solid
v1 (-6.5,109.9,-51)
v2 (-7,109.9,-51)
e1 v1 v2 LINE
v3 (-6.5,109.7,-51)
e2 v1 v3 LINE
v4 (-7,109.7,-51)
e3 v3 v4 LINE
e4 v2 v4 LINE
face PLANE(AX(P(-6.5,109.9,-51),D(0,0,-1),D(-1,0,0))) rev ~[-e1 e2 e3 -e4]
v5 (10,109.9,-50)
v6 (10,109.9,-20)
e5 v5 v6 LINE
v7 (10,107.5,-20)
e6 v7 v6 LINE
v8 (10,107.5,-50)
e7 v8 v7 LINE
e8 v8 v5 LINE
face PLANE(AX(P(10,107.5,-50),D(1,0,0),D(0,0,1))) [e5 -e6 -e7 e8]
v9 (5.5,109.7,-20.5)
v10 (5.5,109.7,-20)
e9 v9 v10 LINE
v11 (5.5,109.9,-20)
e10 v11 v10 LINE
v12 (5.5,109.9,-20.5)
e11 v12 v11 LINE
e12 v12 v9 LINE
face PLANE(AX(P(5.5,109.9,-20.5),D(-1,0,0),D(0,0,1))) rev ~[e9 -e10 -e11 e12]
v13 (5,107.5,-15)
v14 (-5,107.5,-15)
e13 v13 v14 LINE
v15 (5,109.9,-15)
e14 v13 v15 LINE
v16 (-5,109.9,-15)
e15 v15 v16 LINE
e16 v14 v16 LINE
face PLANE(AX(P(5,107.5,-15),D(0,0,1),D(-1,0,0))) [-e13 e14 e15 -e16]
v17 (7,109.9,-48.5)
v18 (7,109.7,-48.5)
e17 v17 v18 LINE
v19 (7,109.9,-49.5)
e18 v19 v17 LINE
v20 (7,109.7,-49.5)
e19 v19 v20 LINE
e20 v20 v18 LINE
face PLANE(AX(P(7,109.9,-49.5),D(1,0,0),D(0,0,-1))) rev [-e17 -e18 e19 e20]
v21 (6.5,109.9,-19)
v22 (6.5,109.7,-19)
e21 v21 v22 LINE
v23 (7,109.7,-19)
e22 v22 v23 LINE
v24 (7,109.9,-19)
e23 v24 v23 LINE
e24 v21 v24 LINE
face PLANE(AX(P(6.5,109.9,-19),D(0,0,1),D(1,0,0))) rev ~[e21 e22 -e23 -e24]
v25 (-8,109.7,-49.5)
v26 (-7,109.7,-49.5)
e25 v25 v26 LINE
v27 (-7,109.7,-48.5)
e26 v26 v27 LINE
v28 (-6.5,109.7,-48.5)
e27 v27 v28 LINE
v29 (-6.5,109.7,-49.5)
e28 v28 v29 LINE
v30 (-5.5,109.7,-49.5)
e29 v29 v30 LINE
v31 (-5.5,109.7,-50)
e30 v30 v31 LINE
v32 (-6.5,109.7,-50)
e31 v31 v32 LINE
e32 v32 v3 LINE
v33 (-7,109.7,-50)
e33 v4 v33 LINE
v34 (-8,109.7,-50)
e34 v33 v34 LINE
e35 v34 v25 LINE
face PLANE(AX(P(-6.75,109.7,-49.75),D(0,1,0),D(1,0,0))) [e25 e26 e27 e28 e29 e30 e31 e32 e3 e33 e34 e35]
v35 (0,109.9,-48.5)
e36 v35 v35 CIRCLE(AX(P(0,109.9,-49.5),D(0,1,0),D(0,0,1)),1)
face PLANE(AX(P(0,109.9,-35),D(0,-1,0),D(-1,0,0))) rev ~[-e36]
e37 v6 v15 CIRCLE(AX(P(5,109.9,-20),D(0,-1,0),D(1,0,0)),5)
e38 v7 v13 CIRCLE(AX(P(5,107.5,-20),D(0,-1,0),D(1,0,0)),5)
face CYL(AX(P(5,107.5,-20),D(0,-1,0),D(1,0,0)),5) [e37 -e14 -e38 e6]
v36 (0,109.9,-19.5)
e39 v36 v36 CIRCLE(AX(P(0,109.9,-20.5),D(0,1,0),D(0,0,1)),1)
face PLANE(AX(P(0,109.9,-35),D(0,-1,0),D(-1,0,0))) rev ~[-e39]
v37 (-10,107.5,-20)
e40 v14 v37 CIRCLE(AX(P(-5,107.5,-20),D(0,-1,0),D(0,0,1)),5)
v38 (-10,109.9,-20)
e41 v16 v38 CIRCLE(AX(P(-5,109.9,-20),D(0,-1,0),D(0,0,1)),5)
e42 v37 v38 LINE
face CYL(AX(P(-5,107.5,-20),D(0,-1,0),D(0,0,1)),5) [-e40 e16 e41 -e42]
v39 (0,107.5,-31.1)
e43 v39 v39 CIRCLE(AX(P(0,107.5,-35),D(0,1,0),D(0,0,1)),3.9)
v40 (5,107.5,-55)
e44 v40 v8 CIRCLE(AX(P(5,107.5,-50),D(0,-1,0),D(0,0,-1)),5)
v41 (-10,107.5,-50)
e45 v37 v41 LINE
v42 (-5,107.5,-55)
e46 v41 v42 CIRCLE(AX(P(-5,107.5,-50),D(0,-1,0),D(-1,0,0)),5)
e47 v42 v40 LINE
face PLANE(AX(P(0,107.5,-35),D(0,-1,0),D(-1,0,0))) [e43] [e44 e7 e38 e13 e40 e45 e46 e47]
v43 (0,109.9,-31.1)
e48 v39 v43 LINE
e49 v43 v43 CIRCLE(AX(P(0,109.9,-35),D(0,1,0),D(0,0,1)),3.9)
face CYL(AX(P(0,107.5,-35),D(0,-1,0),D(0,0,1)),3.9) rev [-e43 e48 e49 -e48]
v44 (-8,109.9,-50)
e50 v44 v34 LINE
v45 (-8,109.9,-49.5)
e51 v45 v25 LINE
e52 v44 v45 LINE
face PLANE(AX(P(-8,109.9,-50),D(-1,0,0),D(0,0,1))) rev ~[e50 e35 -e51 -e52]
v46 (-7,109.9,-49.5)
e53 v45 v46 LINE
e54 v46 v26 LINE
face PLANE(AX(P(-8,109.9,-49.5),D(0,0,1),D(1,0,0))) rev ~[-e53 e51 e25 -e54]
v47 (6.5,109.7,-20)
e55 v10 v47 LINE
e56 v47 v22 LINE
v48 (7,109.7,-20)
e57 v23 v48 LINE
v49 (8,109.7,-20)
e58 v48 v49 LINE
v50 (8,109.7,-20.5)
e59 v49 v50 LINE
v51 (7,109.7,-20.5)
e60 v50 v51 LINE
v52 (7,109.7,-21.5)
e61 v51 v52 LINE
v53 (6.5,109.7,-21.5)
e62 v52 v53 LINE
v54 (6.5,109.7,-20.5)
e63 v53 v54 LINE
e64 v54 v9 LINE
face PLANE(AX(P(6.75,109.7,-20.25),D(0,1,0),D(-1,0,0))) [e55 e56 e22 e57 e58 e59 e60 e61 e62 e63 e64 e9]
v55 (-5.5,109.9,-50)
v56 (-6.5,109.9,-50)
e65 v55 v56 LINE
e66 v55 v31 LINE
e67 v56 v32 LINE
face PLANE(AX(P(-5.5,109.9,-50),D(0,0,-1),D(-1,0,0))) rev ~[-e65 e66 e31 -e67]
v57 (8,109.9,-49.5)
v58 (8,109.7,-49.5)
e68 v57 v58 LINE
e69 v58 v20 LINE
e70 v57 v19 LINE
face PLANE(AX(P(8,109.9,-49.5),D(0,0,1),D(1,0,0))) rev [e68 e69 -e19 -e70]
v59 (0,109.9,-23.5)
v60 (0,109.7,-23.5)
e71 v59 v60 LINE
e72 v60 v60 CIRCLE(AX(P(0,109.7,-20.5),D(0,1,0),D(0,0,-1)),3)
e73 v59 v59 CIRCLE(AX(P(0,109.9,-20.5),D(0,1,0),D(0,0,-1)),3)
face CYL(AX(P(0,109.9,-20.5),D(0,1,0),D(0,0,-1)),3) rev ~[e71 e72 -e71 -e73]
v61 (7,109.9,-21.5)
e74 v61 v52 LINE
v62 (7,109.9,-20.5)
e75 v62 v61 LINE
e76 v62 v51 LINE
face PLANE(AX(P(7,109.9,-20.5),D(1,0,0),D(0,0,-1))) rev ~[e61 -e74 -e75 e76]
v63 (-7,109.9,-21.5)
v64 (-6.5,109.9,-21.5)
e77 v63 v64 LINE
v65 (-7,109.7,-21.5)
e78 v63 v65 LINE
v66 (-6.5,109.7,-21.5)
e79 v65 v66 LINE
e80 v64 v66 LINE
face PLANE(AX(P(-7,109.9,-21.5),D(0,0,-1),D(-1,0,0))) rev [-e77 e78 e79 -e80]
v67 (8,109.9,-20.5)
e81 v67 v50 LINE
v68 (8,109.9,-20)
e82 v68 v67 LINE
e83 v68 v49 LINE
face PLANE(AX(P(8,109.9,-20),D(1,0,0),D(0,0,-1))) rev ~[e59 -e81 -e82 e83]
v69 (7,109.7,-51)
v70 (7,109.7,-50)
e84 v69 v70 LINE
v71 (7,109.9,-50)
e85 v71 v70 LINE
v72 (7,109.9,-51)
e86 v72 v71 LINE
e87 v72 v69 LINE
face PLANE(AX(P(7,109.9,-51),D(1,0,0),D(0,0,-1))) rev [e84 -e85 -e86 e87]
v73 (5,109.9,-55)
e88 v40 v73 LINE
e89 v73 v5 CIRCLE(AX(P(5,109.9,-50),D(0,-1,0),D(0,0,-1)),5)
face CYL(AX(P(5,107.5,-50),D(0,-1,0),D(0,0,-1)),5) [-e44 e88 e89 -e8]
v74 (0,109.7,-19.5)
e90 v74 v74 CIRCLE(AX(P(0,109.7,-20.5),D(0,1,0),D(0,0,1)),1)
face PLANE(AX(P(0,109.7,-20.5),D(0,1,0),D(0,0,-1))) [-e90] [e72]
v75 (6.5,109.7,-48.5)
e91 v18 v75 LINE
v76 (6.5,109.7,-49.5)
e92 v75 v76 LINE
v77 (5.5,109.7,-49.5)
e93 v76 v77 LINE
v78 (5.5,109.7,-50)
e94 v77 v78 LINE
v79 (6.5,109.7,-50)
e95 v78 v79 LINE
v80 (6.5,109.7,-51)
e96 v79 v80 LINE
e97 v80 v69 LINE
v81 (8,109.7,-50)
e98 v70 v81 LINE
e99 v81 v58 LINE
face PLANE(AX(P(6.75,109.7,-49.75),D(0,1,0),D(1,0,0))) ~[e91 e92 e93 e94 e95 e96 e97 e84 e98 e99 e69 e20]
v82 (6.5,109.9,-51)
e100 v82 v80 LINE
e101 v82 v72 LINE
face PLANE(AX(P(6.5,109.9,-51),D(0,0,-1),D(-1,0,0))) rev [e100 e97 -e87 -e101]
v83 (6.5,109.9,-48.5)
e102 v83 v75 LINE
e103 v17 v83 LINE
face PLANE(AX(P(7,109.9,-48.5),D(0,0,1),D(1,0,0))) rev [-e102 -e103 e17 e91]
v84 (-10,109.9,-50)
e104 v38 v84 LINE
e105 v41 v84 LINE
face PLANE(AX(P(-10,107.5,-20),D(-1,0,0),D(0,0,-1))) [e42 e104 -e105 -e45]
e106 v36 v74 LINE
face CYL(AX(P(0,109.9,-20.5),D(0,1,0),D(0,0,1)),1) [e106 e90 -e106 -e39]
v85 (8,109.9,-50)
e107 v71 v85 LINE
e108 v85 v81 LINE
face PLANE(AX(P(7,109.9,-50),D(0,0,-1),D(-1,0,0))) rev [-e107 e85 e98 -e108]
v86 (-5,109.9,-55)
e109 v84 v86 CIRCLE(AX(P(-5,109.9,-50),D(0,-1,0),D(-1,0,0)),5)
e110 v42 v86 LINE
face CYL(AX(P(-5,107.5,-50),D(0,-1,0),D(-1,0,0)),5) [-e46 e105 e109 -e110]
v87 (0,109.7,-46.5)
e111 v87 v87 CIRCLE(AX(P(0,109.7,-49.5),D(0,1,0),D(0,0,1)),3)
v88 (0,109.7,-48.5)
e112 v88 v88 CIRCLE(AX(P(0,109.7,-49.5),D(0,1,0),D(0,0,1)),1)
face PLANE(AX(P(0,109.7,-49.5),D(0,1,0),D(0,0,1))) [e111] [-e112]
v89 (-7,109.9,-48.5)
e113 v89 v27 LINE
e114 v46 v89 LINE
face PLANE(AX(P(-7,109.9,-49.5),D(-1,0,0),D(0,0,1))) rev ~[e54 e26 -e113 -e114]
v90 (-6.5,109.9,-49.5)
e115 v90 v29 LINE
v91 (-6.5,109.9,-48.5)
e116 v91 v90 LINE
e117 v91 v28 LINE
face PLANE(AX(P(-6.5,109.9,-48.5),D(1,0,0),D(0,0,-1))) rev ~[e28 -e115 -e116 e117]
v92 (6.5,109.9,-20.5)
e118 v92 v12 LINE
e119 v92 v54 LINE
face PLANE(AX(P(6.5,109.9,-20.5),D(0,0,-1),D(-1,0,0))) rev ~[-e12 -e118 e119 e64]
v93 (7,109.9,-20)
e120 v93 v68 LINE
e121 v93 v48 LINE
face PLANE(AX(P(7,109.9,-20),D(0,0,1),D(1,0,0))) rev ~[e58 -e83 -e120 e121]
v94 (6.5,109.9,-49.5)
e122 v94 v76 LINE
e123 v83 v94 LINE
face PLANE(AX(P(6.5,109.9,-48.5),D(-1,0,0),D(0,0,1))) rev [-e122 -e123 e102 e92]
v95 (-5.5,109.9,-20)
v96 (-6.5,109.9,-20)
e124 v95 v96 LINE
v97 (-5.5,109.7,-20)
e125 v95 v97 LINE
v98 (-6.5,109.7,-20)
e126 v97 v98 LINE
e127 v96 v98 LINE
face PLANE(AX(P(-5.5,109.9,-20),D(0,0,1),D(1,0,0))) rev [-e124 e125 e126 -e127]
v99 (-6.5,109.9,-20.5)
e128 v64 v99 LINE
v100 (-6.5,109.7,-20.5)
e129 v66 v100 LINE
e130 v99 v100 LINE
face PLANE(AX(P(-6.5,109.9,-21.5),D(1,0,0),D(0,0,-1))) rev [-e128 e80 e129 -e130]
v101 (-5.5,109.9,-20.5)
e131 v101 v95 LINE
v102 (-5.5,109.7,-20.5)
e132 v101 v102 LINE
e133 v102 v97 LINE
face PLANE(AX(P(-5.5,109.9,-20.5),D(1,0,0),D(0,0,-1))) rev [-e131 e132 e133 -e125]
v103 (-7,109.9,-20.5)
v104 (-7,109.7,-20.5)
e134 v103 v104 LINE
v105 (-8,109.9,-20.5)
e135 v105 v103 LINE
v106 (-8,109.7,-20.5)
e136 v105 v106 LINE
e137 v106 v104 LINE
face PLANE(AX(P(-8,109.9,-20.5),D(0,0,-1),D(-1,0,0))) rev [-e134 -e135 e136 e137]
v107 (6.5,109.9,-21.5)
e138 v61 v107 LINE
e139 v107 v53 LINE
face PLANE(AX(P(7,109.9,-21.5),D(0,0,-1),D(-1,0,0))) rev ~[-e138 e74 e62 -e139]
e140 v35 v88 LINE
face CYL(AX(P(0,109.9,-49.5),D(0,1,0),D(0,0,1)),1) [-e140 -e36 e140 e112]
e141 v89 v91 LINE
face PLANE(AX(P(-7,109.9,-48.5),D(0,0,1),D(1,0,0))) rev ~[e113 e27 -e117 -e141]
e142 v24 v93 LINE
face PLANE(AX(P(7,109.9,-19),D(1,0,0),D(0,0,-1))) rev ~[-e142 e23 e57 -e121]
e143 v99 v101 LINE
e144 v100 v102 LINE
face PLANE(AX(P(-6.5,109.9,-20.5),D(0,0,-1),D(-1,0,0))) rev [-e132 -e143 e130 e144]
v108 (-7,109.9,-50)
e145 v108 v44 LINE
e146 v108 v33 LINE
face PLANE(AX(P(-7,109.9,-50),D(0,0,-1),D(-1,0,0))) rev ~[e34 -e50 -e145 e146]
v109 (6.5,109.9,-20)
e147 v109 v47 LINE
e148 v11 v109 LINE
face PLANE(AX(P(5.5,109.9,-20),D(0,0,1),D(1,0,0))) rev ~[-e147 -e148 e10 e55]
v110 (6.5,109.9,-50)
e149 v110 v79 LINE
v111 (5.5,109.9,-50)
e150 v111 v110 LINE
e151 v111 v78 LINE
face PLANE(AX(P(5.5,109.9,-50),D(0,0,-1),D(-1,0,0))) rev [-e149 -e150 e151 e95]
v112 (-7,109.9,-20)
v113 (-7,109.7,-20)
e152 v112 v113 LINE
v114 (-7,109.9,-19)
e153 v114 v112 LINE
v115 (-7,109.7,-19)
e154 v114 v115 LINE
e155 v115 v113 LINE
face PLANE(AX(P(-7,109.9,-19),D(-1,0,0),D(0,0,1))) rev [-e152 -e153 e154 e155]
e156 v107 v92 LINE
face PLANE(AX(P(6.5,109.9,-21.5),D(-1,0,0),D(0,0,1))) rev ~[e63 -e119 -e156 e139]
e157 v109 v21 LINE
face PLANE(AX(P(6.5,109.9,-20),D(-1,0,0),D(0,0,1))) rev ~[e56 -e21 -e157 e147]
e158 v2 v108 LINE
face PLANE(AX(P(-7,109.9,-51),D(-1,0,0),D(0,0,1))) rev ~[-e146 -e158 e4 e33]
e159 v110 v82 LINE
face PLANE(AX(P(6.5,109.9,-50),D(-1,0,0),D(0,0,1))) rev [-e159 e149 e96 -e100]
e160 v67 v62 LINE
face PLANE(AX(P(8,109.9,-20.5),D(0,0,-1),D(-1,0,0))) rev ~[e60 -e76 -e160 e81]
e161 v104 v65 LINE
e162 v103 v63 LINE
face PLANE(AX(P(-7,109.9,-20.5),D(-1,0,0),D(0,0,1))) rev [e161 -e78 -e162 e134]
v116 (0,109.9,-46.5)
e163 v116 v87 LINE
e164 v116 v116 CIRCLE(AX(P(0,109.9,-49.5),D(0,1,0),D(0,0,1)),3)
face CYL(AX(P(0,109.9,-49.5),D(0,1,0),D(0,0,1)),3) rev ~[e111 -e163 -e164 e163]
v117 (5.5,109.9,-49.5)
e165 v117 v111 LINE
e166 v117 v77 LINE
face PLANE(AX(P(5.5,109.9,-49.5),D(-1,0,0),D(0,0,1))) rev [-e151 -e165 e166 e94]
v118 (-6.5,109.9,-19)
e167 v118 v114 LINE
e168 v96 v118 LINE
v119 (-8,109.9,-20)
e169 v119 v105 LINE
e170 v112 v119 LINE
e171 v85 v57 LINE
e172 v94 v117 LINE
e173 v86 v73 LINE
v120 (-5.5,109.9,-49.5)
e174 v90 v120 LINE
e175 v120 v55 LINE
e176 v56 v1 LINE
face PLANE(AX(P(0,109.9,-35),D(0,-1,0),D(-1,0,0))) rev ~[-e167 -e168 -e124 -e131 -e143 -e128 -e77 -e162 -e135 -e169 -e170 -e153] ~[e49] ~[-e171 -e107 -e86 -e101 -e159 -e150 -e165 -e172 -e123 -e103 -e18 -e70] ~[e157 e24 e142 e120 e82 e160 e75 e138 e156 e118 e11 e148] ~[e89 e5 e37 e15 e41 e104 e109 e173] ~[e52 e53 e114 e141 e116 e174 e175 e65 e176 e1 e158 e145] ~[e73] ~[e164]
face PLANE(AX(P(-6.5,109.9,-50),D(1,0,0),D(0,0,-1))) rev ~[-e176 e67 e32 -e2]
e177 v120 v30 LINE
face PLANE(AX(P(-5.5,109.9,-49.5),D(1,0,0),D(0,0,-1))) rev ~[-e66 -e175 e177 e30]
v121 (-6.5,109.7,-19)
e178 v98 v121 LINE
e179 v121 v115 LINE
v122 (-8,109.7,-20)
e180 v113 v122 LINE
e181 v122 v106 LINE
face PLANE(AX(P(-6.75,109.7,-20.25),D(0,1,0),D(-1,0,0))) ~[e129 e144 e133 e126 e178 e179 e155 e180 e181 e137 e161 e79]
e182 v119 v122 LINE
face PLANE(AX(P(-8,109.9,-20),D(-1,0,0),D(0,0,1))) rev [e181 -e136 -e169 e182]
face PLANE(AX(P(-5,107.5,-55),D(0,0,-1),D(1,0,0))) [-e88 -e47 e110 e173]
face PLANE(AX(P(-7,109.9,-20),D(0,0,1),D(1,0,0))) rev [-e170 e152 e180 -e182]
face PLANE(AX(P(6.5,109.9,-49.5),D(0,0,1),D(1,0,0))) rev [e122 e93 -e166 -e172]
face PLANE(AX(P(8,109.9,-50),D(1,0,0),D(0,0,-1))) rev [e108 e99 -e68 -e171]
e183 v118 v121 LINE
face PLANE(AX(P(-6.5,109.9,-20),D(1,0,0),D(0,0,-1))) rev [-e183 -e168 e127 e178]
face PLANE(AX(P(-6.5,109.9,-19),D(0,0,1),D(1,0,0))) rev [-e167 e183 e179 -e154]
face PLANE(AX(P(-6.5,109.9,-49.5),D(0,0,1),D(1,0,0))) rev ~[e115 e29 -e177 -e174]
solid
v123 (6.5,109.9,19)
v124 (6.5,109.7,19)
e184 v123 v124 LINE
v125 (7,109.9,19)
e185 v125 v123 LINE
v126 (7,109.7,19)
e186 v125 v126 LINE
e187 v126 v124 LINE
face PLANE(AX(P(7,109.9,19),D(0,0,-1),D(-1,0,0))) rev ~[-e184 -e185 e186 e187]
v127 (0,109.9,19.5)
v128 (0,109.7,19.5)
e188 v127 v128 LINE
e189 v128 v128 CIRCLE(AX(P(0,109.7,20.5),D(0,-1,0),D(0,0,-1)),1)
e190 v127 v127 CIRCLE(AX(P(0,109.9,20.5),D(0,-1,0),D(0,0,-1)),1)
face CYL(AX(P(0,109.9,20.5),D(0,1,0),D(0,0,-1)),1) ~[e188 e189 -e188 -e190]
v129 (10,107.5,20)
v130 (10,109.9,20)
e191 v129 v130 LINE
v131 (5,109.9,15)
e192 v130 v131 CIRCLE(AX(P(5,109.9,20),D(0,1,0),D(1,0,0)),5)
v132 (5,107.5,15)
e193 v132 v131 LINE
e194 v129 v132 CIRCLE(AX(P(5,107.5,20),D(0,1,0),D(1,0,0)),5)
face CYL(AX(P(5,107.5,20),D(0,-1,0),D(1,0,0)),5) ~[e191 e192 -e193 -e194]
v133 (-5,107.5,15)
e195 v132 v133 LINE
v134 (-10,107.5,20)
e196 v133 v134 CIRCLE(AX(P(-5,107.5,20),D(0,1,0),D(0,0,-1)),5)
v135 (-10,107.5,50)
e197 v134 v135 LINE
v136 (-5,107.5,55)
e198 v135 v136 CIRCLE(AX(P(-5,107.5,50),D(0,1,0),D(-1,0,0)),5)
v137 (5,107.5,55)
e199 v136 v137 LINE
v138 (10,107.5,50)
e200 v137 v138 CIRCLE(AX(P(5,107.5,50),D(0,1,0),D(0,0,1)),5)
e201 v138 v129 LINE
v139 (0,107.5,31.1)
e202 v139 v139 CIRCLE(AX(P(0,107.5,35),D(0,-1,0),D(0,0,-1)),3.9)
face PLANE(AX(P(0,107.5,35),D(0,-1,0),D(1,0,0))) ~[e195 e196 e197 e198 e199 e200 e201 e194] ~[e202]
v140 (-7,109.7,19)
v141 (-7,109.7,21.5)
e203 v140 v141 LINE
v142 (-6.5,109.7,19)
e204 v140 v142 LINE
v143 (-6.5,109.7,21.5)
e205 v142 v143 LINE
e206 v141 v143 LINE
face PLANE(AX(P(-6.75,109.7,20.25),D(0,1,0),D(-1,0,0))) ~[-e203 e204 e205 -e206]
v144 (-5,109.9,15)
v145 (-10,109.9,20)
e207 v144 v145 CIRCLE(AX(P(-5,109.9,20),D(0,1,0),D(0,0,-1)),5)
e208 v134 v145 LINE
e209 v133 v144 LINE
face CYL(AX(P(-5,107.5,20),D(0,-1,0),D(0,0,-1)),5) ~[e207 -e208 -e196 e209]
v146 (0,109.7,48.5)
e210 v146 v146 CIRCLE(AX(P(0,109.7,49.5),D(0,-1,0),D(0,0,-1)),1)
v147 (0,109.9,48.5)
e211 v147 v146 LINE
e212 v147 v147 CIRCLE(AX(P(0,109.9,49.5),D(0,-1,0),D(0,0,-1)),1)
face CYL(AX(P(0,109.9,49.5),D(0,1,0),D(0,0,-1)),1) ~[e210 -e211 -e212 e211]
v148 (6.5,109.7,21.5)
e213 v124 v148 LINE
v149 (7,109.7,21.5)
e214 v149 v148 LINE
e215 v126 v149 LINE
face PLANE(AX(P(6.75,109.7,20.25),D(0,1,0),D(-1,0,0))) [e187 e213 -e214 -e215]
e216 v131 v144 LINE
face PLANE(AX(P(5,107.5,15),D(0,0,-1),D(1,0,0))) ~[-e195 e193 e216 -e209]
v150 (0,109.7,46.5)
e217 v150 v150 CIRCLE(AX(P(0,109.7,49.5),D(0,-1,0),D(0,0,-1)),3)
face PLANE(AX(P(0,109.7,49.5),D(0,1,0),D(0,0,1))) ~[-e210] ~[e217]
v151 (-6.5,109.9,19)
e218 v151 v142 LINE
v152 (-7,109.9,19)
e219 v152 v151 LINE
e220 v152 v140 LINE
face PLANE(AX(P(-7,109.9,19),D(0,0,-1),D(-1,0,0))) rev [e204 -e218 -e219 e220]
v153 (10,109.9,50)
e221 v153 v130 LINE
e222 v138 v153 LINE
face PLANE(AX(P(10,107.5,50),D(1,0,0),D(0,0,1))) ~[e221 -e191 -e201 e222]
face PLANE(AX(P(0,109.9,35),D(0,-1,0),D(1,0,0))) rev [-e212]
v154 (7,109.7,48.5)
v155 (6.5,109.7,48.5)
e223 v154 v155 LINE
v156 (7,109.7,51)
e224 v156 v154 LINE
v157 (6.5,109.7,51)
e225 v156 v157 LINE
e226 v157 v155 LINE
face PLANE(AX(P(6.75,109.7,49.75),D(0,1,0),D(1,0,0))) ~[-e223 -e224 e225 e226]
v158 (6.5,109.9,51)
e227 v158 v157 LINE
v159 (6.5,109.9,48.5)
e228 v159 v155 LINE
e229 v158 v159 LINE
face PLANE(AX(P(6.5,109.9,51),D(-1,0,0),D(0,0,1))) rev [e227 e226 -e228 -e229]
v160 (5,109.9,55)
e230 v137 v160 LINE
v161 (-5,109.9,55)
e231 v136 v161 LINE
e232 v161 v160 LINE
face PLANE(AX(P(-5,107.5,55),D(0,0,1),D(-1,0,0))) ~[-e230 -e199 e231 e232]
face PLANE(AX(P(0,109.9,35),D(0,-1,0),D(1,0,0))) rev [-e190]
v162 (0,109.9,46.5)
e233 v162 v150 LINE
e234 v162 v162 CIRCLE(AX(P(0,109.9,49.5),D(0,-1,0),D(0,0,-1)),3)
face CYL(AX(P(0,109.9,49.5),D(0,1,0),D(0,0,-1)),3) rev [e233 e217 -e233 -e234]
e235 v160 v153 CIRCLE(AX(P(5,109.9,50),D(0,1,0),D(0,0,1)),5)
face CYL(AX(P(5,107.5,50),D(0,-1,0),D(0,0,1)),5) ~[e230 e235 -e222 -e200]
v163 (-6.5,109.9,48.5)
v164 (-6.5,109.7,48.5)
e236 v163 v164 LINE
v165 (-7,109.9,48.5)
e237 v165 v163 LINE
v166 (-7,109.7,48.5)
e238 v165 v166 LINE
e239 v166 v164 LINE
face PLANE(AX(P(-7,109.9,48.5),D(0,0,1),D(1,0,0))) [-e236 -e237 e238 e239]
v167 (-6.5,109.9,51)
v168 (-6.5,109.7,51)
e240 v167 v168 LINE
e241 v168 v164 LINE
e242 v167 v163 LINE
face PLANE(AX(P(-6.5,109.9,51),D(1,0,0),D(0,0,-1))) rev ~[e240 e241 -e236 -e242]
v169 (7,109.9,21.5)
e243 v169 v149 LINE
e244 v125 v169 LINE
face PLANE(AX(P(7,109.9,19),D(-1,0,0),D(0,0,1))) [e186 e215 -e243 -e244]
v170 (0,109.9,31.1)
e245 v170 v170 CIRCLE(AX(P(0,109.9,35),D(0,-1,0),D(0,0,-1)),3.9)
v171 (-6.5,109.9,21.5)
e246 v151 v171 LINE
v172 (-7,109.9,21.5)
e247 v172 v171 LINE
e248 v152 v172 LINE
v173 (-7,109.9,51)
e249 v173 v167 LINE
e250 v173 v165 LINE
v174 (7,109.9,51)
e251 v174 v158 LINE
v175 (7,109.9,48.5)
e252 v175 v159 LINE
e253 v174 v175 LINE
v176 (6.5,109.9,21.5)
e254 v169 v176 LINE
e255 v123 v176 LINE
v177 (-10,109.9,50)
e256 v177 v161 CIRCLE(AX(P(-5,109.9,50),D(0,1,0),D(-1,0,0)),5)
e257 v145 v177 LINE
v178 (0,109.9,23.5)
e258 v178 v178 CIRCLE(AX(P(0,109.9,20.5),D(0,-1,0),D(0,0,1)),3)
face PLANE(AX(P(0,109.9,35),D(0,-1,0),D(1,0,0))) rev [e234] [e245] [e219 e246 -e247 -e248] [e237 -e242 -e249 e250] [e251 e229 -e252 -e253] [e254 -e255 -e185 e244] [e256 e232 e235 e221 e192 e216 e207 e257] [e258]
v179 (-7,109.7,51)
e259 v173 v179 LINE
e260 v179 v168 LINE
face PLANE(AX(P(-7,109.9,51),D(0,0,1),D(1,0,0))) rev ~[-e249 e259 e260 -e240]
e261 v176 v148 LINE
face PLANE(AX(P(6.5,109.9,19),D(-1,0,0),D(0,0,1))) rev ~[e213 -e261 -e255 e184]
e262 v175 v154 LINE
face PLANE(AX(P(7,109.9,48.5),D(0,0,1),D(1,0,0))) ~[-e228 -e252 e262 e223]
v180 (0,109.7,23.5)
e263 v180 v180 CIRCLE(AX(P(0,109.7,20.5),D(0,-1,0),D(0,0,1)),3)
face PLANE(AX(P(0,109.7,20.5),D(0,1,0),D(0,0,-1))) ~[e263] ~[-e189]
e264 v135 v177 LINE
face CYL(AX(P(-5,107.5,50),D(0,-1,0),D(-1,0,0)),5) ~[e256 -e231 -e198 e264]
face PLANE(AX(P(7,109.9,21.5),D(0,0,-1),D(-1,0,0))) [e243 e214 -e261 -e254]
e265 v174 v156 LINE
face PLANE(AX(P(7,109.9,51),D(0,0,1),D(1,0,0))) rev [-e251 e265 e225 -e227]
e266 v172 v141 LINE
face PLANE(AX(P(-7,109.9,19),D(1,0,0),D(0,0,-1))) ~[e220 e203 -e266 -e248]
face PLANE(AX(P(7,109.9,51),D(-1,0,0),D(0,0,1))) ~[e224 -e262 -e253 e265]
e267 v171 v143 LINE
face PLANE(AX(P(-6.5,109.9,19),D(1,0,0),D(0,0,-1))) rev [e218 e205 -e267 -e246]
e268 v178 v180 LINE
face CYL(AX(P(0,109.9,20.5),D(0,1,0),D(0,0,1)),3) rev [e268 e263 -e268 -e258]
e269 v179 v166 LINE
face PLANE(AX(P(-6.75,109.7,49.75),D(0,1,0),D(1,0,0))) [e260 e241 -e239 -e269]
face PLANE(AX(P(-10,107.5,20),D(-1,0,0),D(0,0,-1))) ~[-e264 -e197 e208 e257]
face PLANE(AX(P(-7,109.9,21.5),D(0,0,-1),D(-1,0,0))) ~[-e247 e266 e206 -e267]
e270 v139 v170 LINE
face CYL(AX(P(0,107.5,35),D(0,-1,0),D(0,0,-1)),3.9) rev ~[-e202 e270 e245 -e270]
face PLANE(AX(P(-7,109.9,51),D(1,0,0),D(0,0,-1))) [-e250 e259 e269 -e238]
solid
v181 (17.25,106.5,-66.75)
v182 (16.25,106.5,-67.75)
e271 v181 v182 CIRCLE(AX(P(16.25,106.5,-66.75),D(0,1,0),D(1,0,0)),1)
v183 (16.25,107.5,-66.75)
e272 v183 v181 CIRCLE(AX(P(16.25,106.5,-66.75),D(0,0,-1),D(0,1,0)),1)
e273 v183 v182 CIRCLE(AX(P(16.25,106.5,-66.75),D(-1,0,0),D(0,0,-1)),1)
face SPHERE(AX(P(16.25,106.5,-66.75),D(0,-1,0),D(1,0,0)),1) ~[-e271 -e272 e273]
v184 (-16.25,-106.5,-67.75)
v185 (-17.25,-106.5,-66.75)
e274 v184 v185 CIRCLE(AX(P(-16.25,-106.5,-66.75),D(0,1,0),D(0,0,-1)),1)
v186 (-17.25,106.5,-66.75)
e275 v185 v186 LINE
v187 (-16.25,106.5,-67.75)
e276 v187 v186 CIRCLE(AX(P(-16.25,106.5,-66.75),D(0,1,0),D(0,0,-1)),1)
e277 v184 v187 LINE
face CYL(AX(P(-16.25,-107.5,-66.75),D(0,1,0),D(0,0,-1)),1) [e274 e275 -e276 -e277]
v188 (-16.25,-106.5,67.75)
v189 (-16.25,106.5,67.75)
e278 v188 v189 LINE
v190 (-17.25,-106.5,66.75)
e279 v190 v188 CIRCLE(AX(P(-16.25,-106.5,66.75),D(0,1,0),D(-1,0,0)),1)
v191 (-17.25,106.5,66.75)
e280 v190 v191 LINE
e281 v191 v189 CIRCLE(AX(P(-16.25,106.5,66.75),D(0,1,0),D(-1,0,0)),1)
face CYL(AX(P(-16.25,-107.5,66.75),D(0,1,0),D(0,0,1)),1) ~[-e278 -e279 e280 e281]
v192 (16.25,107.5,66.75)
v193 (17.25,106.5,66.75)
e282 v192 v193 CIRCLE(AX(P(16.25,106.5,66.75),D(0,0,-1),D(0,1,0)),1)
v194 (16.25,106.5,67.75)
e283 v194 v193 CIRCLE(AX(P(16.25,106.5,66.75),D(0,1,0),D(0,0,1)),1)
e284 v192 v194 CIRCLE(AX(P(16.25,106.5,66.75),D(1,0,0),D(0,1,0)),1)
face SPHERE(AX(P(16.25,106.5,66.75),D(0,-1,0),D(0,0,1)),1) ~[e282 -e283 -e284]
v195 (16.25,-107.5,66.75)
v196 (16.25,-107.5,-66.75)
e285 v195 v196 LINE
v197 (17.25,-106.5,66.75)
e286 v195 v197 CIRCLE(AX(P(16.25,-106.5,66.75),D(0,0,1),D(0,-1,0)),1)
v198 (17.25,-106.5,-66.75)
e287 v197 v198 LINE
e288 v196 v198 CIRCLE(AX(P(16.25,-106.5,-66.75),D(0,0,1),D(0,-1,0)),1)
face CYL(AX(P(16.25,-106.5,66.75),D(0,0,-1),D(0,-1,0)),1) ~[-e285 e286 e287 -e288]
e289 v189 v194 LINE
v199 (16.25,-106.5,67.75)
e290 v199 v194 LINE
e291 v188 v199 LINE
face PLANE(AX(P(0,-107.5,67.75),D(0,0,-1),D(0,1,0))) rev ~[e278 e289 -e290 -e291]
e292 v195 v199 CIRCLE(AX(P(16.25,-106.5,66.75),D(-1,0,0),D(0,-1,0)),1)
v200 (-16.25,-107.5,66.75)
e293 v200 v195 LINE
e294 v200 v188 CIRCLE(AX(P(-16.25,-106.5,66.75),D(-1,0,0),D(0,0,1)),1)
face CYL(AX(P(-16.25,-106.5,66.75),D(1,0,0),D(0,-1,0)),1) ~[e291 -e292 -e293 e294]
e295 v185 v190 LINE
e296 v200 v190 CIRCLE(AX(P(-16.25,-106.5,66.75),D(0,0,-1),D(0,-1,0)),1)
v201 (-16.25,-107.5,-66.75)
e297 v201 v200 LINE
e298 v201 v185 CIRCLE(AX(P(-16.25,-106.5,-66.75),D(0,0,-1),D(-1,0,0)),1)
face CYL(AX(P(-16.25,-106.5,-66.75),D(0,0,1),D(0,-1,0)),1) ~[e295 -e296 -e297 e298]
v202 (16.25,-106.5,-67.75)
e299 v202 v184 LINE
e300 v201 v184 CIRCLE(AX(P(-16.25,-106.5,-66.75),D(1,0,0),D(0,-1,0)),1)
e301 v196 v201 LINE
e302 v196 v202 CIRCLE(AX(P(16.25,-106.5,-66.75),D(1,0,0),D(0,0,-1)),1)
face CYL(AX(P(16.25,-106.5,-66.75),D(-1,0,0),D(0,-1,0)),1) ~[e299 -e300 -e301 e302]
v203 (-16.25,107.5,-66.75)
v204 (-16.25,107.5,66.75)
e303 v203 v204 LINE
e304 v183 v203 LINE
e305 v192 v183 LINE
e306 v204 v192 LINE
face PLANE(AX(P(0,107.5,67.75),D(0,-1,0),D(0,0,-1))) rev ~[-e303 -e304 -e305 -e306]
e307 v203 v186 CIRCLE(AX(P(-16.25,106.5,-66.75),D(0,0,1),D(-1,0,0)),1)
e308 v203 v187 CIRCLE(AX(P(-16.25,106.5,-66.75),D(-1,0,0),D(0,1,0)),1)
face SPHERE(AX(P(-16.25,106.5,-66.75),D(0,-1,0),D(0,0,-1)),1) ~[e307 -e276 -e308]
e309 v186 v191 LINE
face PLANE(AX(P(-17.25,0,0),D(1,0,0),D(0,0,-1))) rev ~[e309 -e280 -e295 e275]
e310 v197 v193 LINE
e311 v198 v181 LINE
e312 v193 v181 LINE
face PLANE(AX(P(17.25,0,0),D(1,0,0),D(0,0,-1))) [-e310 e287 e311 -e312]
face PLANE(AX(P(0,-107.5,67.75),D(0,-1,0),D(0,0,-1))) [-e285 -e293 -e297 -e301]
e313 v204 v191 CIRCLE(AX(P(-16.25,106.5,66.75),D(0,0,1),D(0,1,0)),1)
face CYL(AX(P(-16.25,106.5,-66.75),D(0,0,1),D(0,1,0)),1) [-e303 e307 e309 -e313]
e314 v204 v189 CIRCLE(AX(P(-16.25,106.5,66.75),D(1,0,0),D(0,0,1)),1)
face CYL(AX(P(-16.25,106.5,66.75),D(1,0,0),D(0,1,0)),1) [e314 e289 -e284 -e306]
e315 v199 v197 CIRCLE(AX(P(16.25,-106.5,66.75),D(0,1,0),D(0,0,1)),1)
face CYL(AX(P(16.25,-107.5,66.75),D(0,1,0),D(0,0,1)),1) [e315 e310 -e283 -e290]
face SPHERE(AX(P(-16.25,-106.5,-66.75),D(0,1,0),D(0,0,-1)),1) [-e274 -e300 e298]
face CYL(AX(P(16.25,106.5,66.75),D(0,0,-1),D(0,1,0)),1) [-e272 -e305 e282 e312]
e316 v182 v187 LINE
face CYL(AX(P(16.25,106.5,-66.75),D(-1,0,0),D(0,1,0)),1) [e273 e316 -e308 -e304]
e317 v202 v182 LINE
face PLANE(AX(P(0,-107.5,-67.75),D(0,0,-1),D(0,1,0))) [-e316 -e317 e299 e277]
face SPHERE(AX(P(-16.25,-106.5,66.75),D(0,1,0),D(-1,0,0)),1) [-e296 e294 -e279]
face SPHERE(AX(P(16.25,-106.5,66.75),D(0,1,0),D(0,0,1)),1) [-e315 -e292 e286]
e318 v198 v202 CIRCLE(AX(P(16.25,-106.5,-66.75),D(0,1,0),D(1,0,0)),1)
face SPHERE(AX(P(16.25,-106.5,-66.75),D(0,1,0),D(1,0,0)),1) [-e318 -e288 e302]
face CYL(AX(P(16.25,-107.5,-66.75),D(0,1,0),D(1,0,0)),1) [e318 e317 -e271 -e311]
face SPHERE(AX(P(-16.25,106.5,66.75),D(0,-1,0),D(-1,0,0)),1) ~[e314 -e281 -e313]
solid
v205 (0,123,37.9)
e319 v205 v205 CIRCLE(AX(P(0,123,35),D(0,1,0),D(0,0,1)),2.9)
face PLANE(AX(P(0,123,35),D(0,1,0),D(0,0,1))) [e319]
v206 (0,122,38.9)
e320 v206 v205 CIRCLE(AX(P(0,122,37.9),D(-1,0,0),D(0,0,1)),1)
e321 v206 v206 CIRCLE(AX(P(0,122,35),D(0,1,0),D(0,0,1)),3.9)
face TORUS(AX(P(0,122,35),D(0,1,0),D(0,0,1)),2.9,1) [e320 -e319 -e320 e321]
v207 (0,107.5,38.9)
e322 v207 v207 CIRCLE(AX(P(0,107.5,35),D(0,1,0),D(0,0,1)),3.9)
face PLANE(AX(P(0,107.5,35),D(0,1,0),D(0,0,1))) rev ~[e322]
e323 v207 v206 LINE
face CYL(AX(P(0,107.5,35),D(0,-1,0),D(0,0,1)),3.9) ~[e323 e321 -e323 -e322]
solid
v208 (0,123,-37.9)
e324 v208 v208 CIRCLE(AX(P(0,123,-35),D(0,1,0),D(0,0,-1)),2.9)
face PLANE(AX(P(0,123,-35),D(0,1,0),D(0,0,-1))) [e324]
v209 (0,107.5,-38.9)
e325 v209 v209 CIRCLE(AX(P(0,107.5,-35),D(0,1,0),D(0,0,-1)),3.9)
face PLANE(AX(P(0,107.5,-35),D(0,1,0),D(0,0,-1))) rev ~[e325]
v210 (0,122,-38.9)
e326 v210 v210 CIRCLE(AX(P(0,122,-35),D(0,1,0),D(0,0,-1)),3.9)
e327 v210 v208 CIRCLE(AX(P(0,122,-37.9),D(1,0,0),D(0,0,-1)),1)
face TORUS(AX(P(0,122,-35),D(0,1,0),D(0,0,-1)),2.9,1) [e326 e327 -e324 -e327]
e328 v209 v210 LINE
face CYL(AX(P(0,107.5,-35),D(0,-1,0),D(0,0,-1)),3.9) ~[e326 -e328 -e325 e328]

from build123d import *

# Parameters (mm, degrees)
SKETCH1_W               = 135.5
SKETCH1_H               = 215
BOSS_EXTRUDE1_DEPTH     = 17.25
SKETCH2_R               = 3.9
BOSS_EXTRUDE2_DEPTH     = 15.5
BOSS_EXTRUDE2_2_DEPTH   = 15.5
SKETCH3_R               = 3.9
BOSS_EXTRUDE3_DEPTH     = 2.4
SKETCH5_R               = 3
SKETCH5_R_2             = 1
CUT_EXTRUDE1_DEPTH      = 0.2
FILLET1_R               = 1
FILLET2_R               = 1
FILLET3_R               = 1
CUT_EXTRUDE2_DEPTH      = 0.2
MIRROR3_COPY_1_DEPTH    = 0.2
SKETCH7_W               = 0.5
SKETCH7_H               = 2.5
CUT_EXTRUDE3_DEPTH      = 0.2
MIRROR5_COPY_1_SKETCH_W = 0.5
MIRROR5_COPY_1_SKETCH_H = 2.5
MIRROR5_COPY_1_DEPTH    = 0.2
FILLET4_R               = 1
FILLET5_R               = 1


with BuildPart() as part:
    # Sketch1 → Boss-Extrude1 (new, symmetric)
    with BuildSketch(Plane(origin=(0, 0, 0), x_dir=(0, 0, -1), z_dir=(1, 0, 0))):
        Rectangle(SKETCH1_W, SKETCH1_H)
    extrude(amount=BOSS_EXTRUDE1_DEPTH, both=True)

    # Fillet1
    fillet1_edges = [part.edges().sort_by_distance(p)[0] for p in [
        (17.25, 0, -67.75),
        (17.25, 0, 67.75),
        (-17.25, 0, -67.75),
        (-17.25, 0, 67.75),
    ]]
    fillet(fillet1_edges, radius=FILLET1_R)

    # Fillet2
    fillet2_edges = [part.edges().sort_by_distance(p)[0] for p in [
        (17.25, 107.5, 0),
        (-17.25, 107.5, 0),
        (0, 107.5, 67.75),
        (0, 107.5, -67.75),
        (-16.957106781, 107.5, 67.457106781),
        (16.957106781, 107.5, 67.457106781),
        (-16.957106781, 107.5, -67.457106781),
        (16.957106781, 107.5, -67.457106781),
    ]]
    fillet(fillet2_edges, radius=FILLET2_R)

    # Fillet3
    fillet3_edges = [part.edges().sort_by_distance(p)[0] for p in [
        (17.25, -107.5, 0),
        (0, -107.5, -67.75),
        (-17.25, -107.5, 0),
        (0, -107.5, 67.75),
        (-16.957106781, -107.5, 67.457106781),
        (16.957106781, -107.5, 67.457106781),
        (-16.957106781, -107.5, -67.457106781),
        (16.957106781, -107.5, -67.457106781),
    ]]
    fillet(fillet3_edges, radius=FILLET3_R)


with BuildPart() as body_2:
    # Sketch2 → Boss-Extrude2 (new body)
    with BuildSketch(Plane(origin=(0, 107.5, 0), x_dir=(1, 0, 0), z_dir=(0, 1, 0))):
        with Locations(Location((0, -35, 0), (0, 0, 270))):
            Circle(SKETCH2_R)
    extrude(amount=BOSS_EXTRUDE2_DEPTH)

    # Fillet5
    fillet5_edges = [body_2.edges().sort_by_distance(p)[0] for p in [
        (0, 123, 31.1),
    ]]
    fillet(fillet5_edges, radius=FILLET5_R)


with BuildPart() as body_3:
    # Sketch2 → Boss-Extrude2 2 (new body)
    with BuildSketch(Plane(origin=(0, 107.5, 0), x_dir=(1, 0, 0), z_dir=(0, 1, 0))):
        with Locations(Location((0, 35, 0), (0, 0, 90))):
            Circle(SKETCH2_R)
    extrude(amount=BOSS_EXTRUDE2_2_DEPTH)

    # Fillet4
    fillet4_edges = [body_3.edges().sort_by_distance(p)[0] for p in [
        (0, 123, -31.1),
    ]]
    fillet(fillet4_edges, radius=FILLET4_R)


with BuildPart() as body_4:
    # Sketch3 → Boss-Extrude3 (new body)
    with BuildSketch(Plane(origin=(0, 107.5, 0), x_dir=(1, 0, 0), z_dir=(0, 1, 0))):
        with BuildLine():
            Line((-5, 55), (5, 55))
            ThreePointArc((5, 55), (8.535533906, 53.535533906), (10, 50))
            Line((10, 50), (10, 20))
            ThreePointArc((10, 20), (8.535533906, 16.464466094), (5, 15))
            Line((5, 15), (-5, 15))
            ThreePointArc((-5, 15), (-8.535533906, 16.464466094), (-10, 20))
            Line((-10, 20), (-10, 50))
            ThreePointArc((-10, 50), (-8.535533906, 53.535533906), (-5, 55))
        make_face()
        with Locations(Location((0, 35, 0), (0, 0, 270))):
            Circle(SKETCH3_R, mode=Mode.SUBTRACT)
    extrude(amount=BOSS_EXTRUDE3_DEPTH)

    # Sketch5 → Cut-Extrude1 (cut)
    # profile 1 of 2: a face of its own
    with BuildSketch(Plane(origin=(0, 109.9, 0), x_dir=(1, 0, 0), z_dir=(0, 1, 0))):
        with Locations(Location((0, 49.5, 0), (0, 0, 270))):
            Circle(SKETCH5_R)
        with Locations(Location((0, 49.5, 0), (0, 0, 270))):
            Circle(SKETCH5_R_2, mode=Mode.SUBTRACT)
    # profile 2 of 2: a face of its own
    with BuildSketch(Plane(origin=(0, 109.9, 0), x_dir=(1, 0, 0), z_dir=(0, 1, 0))):
        with Locations(Location((0, 20.5, 0), (0, 0, 90))):
            Circle(SKETCH5_R)
        with Locations(Location((0, 20.5, 0), (0, 0, 270))):
            Circle(SKETCH5_R_2, mode=Mode.SUBTRACT)
    extrude(amount=-CUT_EXTRUDE1_DEPTH, mode=Mode.SUBTRACT)


with BuildPart() as body_5:
    # Mirror1: mirrored copy
    add(body_4.part.mirror(Plane.XY))

    # Sketch7 → Cut-Extrude3 (cut)
    with BuildSketch(Plane(origin=(0, 109.9, 0), x_dir=(1, 0, 0), z_dir=(0, 1, 0))):
        with Locations((-6.75, -49.75)):
            Rectangle(SKETCH7_W, SKETCH7_H)
    cut_extrude3 = extrude(amount=-CUT_EXTRUDE3_DEPTH, mode=Mode.SUBTRACT)

    # Mirror4: Cut-Extrude3 across plane
    add(cut_extrude3.mirror(Plane.ZY), mode=Mode.SUBTRACT)

    # Mirror5: Cut-Extrude3 across plane
    add(cut_extrude3.mirror(Plane.XY.offset(35)), mode=Mode.SUBTRACT)

    # Mirror5 copy 1 sketch → Mirror5 copy 1 (cut)
    with BuildSketch(Plane(origin=(0, 109.9, 70), x_dir=(-1, 0, 0), z_dir=(0, 1, 0))):
        with Locations((-6.75, -49.75)):
            Rectangle(MIRROR5_COPY_1_SKETCH_W, MIRROR5_COPY_1_SKETCH_H)
    extrude(amount=-MIRROR5_COPY_1_DEPTH, mode=Mode.SUBTRACT)


with BuildPart() as body_4_1:
    add(body_4.part)

    # Sketch6 → Cut-Extrude2 (cut)
    with BuildSketch(Plane(origin=(0, 109.9, 0), x_dir=(1, 0, 0), z_dir=(0, 1, 0))):
        Polygon((-7, 49.5), (-7, 48.5), (-6.5, 48.5), (-6.5, 49.5), (-5.5, 49.5), (-5.5, 50), (-6.5, 50), (-6.5, 51), (-7, 51), (-7, 50), (-8, 50), (-8, 49.5), align=None)
    cut_extrude2 = extrude(amount=-CUT_EXTRUDE2_DEPTH, mode=Mode.SUBTRACT)

    # Mirror2: Cut-Extrude2 across plane
    add(cut_extrude2.mirror(Plane(origin=(0, 0, 0), x_dir=(0, 0, 1), z_dir=(1, 0, 0))), mode=Mode.SUBTRACT)

    # Mirror3: Cut-Extrude2 across plane
    add(cut_extrude2.mirror(Plane.XY.offset(-35)), mode=Mode.SUBTRACT)

    # Mirror3 copy 1 sketch → Mirror3 copy 1 (cut)
    with BuildSketch(Plane(origin=(0, 109.9, -70), x_dir=(-1, 0, 0), z_dir=(0, 1, 0))):
        Polygon((-7, 49.5), (-7, 48.5), (-6.5, 48.5), (-6.5, 49.5), (-5.5, 49.5), (-5.5, 50), (-6.5, 50), (-6.5, 51), (-7, 51), (-7, 50), (-8, 50), (-8, 49.5), align=None)
    extrude(amount=-MIRROR3_COPY_1_DEPTH, mode=Mode.SUBTRACT)


solid = Compound([part.part, body_2.part, body_3.part, body_5.part, body_4_1.part])
